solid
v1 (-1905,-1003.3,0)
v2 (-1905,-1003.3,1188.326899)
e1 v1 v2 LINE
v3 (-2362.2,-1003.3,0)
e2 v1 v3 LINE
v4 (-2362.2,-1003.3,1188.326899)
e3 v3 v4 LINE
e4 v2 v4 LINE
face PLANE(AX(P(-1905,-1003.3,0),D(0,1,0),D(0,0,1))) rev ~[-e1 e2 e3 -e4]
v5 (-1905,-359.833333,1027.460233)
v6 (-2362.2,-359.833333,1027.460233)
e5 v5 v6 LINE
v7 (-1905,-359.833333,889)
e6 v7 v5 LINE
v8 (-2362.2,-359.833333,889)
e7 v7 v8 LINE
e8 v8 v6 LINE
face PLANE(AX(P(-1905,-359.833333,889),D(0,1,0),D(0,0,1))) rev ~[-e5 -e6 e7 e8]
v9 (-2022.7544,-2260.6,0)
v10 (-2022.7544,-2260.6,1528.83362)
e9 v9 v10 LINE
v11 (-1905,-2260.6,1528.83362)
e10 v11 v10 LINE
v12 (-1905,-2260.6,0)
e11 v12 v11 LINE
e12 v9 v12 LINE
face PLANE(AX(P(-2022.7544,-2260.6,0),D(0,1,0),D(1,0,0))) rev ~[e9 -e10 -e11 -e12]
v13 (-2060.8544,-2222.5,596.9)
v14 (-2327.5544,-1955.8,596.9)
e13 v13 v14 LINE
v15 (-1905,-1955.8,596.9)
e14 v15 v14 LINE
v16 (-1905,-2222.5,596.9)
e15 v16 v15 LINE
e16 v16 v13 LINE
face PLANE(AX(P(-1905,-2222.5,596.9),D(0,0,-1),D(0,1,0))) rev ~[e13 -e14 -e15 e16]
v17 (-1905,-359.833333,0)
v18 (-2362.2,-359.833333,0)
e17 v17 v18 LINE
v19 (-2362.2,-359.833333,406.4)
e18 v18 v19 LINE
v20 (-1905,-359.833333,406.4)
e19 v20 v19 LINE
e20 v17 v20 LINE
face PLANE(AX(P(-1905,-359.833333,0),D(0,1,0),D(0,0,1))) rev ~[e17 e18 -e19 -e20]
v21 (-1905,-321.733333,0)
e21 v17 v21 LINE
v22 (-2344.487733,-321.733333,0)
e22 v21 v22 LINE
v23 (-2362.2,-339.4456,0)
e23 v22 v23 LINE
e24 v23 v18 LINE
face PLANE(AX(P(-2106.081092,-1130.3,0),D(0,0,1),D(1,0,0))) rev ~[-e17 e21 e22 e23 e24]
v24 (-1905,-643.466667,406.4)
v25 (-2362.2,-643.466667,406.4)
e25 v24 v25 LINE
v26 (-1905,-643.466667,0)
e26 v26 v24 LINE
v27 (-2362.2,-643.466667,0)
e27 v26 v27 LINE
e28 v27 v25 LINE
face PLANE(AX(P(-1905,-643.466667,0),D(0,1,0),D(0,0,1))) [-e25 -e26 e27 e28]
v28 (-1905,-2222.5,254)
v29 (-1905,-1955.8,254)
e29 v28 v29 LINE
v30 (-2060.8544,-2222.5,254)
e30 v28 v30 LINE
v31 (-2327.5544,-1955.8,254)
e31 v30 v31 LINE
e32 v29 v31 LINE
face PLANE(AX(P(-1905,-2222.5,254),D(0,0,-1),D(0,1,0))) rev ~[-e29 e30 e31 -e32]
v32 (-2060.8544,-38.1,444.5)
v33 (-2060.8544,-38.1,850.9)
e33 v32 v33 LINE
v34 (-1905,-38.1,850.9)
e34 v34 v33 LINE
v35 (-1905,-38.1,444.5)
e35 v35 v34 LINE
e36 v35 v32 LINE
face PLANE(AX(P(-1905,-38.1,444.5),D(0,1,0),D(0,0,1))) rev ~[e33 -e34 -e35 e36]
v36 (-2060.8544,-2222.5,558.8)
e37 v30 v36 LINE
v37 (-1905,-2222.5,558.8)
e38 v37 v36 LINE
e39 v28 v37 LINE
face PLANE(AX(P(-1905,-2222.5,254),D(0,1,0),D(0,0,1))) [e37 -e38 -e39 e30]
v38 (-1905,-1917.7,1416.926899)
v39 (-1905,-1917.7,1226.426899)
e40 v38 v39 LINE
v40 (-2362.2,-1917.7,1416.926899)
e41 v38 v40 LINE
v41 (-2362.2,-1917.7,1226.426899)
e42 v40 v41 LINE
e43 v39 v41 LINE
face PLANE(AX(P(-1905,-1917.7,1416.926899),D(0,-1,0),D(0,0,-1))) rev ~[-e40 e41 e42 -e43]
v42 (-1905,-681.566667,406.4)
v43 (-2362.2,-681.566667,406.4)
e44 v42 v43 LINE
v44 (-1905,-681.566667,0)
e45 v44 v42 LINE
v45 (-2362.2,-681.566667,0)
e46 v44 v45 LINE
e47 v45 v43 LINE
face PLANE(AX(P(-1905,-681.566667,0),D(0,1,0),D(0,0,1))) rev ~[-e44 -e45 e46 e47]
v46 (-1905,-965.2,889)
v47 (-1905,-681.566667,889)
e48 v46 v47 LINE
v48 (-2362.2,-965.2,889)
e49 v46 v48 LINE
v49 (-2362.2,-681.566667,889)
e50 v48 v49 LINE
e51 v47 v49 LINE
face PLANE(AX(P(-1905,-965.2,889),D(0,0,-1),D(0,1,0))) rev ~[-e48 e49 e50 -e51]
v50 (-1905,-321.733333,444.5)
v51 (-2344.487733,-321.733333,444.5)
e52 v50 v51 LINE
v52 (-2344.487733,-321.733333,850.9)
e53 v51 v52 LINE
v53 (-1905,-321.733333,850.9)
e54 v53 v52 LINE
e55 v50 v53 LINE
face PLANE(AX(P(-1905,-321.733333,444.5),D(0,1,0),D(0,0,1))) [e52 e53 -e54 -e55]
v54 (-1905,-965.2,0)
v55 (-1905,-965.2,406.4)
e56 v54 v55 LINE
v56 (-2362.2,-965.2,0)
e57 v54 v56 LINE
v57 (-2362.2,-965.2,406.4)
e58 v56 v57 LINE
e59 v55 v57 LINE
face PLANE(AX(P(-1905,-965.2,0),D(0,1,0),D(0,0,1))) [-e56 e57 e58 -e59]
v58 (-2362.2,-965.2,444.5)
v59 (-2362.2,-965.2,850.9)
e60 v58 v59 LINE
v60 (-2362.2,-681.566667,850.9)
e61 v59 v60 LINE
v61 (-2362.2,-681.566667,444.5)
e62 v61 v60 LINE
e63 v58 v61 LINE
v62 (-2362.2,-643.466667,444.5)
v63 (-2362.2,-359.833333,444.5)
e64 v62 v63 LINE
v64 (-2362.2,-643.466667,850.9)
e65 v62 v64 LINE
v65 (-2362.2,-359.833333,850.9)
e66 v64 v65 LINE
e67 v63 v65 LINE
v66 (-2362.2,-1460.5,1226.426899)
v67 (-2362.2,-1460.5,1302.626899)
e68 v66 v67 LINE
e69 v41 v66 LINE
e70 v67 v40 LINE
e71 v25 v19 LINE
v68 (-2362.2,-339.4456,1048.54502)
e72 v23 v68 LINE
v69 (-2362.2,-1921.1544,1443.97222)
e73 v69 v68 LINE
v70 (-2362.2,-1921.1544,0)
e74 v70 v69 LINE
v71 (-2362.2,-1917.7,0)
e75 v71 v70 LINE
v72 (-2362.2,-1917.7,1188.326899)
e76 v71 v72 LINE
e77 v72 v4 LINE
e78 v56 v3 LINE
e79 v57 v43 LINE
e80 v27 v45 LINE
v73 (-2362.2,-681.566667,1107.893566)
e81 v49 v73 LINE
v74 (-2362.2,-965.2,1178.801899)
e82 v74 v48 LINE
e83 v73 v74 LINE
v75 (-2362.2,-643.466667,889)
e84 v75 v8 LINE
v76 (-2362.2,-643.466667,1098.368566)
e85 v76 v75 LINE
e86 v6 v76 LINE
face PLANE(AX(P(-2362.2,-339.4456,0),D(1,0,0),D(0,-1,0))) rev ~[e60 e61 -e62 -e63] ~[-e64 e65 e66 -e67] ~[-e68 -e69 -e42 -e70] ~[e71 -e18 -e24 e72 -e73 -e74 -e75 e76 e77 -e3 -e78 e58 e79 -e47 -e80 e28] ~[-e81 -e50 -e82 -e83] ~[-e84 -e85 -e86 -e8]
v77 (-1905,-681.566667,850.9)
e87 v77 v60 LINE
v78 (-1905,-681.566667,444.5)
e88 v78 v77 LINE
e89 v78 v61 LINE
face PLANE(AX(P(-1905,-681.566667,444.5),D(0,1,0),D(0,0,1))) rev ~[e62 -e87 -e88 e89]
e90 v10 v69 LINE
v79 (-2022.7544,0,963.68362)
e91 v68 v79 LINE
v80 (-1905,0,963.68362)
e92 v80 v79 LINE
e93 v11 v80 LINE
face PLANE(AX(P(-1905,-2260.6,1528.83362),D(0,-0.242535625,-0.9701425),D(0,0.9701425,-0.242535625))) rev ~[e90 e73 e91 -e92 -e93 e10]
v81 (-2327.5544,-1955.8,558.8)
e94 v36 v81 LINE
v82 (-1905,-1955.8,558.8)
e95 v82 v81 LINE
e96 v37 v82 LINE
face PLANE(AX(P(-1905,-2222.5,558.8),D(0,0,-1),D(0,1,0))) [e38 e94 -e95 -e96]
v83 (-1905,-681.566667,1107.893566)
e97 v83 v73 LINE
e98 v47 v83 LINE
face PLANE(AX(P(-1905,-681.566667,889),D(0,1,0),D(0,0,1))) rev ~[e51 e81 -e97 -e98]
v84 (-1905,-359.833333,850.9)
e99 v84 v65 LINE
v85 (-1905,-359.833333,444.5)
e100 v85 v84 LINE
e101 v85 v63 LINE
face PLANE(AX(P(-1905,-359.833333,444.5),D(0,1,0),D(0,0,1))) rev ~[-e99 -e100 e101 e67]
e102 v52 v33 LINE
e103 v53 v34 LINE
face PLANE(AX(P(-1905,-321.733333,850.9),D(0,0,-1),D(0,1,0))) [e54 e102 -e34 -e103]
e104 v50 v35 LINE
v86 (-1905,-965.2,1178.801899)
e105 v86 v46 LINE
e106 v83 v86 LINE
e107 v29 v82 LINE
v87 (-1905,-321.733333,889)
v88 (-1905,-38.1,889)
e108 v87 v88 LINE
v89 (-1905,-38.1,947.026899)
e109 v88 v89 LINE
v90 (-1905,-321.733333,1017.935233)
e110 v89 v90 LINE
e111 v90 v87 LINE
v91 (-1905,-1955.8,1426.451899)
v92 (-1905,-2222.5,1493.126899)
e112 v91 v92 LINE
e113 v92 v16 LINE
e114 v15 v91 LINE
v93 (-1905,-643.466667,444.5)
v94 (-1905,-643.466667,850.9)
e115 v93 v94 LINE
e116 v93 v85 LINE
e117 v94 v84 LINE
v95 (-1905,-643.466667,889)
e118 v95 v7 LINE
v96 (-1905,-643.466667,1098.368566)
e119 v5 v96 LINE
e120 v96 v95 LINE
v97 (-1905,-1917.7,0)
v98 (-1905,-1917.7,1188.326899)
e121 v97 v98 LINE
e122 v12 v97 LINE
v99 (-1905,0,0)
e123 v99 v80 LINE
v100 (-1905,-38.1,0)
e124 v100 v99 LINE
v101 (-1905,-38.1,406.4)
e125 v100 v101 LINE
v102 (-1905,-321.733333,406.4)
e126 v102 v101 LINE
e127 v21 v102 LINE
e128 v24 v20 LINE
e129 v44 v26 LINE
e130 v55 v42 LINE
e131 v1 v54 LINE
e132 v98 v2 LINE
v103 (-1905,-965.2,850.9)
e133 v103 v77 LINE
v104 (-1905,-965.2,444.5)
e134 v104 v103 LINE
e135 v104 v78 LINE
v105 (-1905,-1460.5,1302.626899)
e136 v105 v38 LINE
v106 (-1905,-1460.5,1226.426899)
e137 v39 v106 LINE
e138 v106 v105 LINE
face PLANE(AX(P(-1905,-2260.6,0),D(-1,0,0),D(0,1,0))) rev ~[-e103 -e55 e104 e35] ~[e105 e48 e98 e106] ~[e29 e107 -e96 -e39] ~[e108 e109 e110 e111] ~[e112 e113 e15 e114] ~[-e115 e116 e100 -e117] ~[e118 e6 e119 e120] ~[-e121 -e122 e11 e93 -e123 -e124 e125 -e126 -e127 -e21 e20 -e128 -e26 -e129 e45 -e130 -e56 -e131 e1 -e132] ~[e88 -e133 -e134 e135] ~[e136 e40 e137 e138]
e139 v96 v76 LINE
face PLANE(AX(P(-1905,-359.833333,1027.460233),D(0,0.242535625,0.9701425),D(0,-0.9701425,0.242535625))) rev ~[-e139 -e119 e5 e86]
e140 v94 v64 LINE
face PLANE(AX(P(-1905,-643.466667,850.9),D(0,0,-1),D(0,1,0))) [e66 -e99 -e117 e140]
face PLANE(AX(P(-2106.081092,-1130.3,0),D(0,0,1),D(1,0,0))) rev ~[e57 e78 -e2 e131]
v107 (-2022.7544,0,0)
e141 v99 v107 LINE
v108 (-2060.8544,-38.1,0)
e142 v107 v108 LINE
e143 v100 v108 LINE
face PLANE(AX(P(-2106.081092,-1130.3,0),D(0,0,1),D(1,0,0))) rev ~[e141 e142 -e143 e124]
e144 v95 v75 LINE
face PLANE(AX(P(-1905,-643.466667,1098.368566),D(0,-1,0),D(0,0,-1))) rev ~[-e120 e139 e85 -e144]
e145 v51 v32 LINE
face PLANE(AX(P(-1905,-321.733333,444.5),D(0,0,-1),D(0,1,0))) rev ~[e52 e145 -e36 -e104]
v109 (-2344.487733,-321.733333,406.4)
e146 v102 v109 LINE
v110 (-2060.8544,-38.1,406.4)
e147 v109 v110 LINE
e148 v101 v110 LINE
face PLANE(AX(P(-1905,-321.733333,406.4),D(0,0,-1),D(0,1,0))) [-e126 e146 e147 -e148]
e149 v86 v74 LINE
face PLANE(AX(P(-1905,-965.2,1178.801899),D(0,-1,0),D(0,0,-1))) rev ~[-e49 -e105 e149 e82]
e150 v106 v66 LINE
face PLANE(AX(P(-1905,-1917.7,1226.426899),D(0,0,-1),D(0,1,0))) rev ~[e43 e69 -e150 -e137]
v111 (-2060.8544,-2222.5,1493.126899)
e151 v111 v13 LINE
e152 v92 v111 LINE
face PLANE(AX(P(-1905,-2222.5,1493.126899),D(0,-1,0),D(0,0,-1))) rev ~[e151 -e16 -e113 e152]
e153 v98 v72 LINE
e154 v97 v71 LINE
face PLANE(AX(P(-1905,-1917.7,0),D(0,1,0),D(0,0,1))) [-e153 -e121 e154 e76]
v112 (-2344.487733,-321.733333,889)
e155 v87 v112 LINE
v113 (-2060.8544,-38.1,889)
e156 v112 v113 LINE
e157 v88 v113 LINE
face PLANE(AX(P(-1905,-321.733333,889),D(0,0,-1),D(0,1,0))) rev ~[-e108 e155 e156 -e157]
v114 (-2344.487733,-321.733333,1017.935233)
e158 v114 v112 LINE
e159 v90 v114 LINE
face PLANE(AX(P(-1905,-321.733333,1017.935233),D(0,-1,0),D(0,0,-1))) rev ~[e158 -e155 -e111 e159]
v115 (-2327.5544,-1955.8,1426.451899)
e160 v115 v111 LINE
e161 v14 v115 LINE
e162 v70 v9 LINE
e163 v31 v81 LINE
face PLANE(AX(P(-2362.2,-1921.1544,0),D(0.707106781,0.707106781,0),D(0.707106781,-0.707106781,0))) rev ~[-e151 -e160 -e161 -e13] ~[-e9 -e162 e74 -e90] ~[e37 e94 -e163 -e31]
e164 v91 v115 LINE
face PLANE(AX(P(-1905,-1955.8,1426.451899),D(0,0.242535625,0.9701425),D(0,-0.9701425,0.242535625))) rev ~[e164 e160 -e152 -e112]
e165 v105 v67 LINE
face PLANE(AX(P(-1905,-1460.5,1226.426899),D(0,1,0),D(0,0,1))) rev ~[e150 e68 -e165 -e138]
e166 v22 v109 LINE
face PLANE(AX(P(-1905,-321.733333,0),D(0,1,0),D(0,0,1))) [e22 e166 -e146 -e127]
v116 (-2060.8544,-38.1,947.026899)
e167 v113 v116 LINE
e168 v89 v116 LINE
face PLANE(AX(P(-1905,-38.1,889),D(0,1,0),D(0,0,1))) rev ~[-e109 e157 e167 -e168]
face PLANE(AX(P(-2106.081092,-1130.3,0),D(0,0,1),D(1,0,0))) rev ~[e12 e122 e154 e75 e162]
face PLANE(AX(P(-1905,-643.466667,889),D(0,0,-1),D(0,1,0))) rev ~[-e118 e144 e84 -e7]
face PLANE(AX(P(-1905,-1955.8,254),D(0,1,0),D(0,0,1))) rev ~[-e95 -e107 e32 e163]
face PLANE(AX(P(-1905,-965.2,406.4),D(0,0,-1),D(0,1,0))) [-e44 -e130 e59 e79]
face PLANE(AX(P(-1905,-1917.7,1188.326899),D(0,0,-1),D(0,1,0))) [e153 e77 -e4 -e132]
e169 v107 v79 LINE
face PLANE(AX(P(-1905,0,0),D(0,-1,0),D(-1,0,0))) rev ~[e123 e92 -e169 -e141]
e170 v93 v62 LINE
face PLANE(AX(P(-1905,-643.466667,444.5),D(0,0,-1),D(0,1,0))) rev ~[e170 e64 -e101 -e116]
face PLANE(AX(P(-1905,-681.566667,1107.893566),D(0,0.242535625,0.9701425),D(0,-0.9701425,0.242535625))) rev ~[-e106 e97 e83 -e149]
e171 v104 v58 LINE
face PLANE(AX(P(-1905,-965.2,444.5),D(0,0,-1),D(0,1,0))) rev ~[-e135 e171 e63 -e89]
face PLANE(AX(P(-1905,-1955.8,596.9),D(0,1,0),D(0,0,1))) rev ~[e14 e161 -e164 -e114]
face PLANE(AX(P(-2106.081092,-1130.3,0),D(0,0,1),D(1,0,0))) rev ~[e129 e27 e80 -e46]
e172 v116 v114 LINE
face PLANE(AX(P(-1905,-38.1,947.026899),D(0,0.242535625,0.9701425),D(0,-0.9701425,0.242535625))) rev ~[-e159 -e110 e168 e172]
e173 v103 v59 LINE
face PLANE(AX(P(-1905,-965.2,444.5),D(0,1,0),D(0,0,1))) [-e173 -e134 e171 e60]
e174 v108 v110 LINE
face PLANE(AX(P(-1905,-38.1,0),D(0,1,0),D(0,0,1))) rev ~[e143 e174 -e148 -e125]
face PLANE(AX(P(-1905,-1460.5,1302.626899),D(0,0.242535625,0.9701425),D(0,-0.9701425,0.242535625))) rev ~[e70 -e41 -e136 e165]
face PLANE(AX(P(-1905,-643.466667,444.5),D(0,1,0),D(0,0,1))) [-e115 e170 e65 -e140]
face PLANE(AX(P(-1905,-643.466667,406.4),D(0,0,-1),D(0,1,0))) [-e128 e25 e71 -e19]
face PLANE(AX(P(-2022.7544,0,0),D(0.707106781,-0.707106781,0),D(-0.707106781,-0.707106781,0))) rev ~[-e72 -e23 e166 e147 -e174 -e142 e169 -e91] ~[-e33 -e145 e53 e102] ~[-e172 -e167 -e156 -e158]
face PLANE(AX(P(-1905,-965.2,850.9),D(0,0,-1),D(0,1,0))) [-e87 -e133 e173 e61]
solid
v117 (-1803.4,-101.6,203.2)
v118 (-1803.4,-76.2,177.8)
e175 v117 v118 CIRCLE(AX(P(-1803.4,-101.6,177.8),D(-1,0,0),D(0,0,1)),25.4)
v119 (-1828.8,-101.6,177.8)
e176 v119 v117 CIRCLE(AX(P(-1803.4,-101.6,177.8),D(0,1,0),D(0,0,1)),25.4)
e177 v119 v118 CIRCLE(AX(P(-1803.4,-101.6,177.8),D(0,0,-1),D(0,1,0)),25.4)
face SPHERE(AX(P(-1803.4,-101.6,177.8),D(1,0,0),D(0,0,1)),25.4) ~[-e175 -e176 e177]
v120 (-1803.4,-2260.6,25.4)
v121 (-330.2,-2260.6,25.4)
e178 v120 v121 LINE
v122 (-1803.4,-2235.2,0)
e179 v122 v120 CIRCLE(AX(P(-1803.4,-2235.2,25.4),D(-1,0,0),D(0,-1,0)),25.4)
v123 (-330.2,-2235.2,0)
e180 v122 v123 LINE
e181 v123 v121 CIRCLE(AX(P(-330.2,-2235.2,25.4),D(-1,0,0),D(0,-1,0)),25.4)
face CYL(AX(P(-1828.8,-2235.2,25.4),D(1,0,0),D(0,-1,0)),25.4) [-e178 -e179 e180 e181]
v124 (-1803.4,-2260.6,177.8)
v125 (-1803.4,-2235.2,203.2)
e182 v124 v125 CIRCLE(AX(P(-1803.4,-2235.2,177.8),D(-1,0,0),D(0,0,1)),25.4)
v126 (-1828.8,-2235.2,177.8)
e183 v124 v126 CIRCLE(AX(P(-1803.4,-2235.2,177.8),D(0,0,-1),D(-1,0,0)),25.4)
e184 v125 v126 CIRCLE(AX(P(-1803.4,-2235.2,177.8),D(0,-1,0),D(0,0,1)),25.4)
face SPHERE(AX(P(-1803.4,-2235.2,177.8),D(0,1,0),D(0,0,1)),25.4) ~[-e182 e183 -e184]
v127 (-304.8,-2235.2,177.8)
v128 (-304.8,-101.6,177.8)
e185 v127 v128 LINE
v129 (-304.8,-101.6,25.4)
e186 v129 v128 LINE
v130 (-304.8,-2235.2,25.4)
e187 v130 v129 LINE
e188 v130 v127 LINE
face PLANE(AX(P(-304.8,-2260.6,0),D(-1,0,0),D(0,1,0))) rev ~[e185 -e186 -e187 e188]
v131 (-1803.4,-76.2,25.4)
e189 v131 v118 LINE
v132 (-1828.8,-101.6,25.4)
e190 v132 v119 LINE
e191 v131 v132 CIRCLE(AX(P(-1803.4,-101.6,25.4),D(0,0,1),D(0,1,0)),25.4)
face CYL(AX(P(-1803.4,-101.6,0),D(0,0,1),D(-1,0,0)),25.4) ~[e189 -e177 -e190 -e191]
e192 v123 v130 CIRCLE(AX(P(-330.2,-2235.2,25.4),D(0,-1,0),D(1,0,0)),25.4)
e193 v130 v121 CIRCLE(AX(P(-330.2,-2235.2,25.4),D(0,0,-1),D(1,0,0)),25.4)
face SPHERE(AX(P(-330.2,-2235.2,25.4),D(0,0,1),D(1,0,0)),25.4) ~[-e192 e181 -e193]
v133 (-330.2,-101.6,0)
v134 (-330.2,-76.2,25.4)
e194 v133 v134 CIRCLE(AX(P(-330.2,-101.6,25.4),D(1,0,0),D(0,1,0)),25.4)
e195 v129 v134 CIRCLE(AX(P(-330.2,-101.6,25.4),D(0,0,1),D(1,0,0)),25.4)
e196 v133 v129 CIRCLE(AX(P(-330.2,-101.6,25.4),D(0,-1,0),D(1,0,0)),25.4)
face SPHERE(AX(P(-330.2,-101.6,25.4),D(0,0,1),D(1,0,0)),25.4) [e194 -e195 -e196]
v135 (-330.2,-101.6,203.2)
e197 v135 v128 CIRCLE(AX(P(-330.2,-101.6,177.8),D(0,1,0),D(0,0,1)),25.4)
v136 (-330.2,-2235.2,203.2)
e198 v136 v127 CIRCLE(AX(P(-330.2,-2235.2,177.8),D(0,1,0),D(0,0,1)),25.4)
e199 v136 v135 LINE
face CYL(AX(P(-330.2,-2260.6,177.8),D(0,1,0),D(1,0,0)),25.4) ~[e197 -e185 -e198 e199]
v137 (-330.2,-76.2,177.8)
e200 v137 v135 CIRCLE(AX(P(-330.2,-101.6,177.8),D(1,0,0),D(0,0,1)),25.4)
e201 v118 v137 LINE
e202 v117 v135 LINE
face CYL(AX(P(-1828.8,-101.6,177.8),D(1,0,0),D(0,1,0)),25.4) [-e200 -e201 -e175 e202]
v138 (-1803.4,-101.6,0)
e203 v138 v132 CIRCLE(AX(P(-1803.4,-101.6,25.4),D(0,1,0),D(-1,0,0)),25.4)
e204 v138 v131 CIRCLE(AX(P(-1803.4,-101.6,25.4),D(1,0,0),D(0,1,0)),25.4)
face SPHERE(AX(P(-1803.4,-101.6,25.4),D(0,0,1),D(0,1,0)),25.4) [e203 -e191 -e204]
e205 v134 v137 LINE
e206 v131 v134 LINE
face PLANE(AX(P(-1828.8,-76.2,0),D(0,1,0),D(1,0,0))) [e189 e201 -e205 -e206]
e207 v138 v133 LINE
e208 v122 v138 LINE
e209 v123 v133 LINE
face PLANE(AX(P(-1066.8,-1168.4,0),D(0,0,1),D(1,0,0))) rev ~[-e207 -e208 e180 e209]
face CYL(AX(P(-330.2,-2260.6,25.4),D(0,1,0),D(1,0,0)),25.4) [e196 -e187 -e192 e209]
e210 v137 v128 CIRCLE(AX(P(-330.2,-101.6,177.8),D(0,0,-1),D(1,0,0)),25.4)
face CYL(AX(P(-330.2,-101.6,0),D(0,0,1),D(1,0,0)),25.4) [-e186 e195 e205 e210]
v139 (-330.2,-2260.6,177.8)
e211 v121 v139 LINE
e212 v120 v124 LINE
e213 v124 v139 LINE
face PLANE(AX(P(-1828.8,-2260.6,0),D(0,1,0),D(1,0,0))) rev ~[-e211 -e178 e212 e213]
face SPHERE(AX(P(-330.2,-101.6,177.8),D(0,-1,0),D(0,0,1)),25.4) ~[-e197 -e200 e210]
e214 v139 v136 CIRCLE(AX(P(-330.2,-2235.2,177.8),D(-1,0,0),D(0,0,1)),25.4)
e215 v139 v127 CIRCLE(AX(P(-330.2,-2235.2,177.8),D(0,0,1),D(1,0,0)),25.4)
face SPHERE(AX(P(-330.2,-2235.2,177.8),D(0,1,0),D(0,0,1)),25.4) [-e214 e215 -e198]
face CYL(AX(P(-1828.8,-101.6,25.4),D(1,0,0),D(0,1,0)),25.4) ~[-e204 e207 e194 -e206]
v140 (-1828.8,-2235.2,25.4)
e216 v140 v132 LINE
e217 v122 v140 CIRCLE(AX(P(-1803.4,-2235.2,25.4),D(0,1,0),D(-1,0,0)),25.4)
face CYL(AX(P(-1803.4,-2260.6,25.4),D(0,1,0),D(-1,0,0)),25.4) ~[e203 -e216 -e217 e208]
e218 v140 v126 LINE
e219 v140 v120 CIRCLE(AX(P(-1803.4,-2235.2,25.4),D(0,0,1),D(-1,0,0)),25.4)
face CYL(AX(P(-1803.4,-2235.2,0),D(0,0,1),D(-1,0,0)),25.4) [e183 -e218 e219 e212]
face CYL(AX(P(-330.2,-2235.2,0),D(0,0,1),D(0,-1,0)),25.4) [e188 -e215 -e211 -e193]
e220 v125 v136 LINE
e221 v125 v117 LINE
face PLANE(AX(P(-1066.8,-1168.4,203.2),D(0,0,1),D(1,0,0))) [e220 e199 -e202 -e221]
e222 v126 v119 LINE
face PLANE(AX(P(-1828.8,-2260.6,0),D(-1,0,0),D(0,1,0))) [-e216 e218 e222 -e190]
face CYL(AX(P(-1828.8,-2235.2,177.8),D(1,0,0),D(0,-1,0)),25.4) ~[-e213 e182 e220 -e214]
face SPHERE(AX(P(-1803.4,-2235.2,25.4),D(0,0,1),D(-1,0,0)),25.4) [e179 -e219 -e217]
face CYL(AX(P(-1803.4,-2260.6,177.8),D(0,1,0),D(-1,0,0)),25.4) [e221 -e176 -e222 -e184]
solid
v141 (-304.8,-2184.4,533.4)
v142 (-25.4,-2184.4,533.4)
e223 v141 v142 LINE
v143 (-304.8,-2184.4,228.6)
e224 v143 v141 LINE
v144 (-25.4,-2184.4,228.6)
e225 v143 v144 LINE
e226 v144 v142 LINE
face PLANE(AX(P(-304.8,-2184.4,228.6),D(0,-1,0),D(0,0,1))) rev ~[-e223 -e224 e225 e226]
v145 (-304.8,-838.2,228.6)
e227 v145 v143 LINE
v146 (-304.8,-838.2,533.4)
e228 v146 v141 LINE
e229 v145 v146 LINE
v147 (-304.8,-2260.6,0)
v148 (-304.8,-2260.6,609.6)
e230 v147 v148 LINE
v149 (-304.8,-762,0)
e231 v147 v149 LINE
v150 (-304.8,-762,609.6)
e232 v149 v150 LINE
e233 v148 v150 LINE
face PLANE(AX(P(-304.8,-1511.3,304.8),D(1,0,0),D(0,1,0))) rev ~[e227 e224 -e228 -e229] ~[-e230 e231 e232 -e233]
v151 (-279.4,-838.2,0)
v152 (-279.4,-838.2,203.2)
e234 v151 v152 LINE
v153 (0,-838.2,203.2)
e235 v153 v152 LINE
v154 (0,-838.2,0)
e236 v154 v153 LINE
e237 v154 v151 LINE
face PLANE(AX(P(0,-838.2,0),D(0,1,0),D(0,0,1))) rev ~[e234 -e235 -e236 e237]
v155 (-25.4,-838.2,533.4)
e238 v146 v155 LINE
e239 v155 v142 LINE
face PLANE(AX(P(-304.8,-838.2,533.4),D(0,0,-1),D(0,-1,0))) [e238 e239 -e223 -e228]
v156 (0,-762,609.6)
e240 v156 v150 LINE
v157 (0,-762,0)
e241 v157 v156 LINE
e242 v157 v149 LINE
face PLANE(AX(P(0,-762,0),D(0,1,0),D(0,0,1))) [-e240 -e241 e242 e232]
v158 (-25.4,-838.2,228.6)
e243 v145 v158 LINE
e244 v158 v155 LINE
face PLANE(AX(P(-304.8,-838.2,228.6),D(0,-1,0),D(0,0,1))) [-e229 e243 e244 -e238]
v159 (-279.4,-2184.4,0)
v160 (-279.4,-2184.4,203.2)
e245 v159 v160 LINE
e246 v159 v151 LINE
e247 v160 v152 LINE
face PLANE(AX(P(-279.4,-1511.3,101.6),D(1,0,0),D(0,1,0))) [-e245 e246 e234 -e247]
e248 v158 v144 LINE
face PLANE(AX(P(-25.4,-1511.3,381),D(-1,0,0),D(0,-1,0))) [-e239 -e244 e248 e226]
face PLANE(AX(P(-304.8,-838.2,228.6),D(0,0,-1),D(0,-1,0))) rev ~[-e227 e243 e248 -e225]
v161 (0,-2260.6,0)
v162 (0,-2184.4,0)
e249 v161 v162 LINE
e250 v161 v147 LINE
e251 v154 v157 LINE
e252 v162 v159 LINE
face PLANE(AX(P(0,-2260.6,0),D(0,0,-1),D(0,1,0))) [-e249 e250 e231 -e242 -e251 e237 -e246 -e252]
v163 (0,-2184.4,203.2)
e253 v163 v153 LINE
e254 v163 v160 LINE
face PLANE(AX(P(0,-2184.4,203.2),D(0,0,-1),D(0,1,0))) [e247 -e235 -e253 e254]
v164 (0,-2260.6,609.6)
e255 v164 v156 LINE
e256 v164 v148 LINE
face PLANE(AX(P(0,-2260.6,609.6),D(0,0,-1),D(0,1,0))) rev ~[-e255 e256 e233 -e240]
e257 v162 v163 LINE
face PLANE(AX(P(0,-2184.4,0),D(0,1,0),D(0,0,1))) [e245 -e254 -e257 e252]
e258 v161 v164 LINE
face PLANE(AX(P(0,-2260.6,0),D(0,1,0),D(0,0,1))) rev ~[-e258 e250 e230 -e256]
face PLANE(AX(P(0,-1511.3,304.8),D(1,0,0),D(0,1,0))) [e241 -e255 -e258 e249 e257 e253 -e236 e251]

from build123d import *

# Parameters (mm, degrees)
F0_W      = 1498.6
F0_H      = 609.6
F1_DEPTH  = 304.8
F2_W      = 1346.2
F2_H      = 304.8
F3_DEPTH  = 279.4
F4_W      = 1346.2
F4_H      = 203.2
F5_DEPTH  = 279.4
F6_W      = 1524
F6_H      = 2184.4
F7_DEPTH  = 203.2
F9_DEPTH  = 1574.8
F10_R     = 25.4
F12_DEPTH = 457.201
F13_W     = 266.7
F13_H     = 304.8
F13_W_2   = 283.6333333333
F13_H_2   = 406.4
F13_W_3   = 914.4
F13_H_3   = 1188.3268992773
F14_DEPTH = 457.201


with BuildPart() as f1:
    # F0 (on Right) → F1 (new body)
    with BuildSketch(Plane.YZ):
        with Locations((-1511.3, 304.8)):
            Rectangle(F0_W, F0_H)
    extrude(amount=-F1_DEPTH)

    # F2 (on face) → F3 (cut)
    with BuildSketch(Plane(origin=(-304.8, 0, 0), x_dir=(0, -1, 0), z_dir=(-1, 0, 0))):
        with Locations((1511.3, 381)):
            Rectangle(F2_W, F2_H)
    extrude(amount=-F3_DEPTH, mode=Mode.SUBTRACT)

    # F4 (on face) → F5 (cut)
    with BuildSketch(Plane.YZ):
        with Locations((-1511.3, 101.6)):
            Rectangle(F4_W, F4_H)
    extrude(amount=-F5_DEPTH, mode=Mode.SUBTRACT)


with BuildPart() as f7:
    # F6 (on Top) → F7 (new body)
    with BuildSketch(Plane.XY):
        with Locations((-1066.8, -1168.4)):
            Rectangle(F6_W, F6_H)
    extrude(amount=F7_DEPTH)

    # F10
    f10_edges = [f7.edges().sort_by_distance(p)[0] for p in [
        (-304.8, -1168.4, 203.2),
        (-1066.8, -76.2, 203.2),
        (-1828.8, -1168.4, 203.2),
        (-1066.8, -2260.6, 203.2),
        (-1828.8, -2260.6, 101.6),
        (-304.8, -2260.6, 101.6),
        (-304.8, -76.2, 101.6),
        (-1828.8, -76.2, 101.6),
        (-304.8, -1168.4, 0),
        (-1066.8, -76.2, 0),
        (-1828.8, -1168.4, 0),
        (-1066.8, -2260.6, 0),
    ]]
    fillet(f10_edges, radius=F10_R)


with BuildPart() as f9:
    # F8 (on Top) → F9 (new body)
    with BuildSketch(Plane.XY):
        Polygon((-1905, -2260.6), (-1905, 0), (-2022.7544, 0), (-2362.2, -339.4456), (-2362.2, -1921.1544), (-2022.7544, -2260.6), align=None)
    extrude(amount=F9_DEPTH)

    # F11 (on face) → F12 (cut, through all)
    with BuildSketch(Plane.YZ.offset(-1905)):
        Polygon((-2260.6, 1574.8), (-2260.6, 1528.83362), (0, 963.68362), (0, 1574.8), align=None)
    extrude(amount=-F12_DEPTH, mode=Mode.SUBTRACT)

    # F13 (on face) → F14 (cut, through all)
    with BuildSketch(Plane.YZ.offset(-1905)):
        with Locations((-2089.15, 406.4)):
            Rectangle(F13_W, F13_H)
        Polygon((-2222.5, 1493.1268992773), (-2222.5, 596.9), (-1955.8, 596.9), (-1955.8, 1426.4518992773), align=None)
        Polygon((-38.1, 947.0268992773), (-321.7333333333, 1017.9352326107), (-321.7333333333, 889), (-38.1, 889), align=None)
        with Locations((-179.9166666667, 647.7)):
            Rectangle(F13_W_2, F13_H_2)
        with Locations((-179.9166666667, 203.2)):
            Rectangle(F13_W_2, F13_H_2)
        with Locations((-1460.5, 594.1634496387)):
            Rectangle(F13_W_3, F13_H_3)
        with Locations((-501.65, 203.2)):
            Rectangle(F13_W_2, F13_H_2)
        with Locations((-823.3833333333, 203.2)):
            Rectangle(F13_W_2, F13_H_2)
        with Locations((-501.65, 647.7)):
            Rectangle(F13_W_2, F13_H_2)
        with Locations((-823.3833333333, 647.7)):
            Rectangle(F13_W_2, F13_H_2)
        Polygon((-643.4666666667, 889), (-359.8333333333, 889), (-359.8333333333, 1027.4602326107), (-643.4666666667, 1098.368565944), align=None)
        Polygon((-965.2, 889), (-681.5666666667, 889), (-681.5666666667, 1107.893565944), (-965.2, 1178.8018992773), align=None)
        Polygon((-1917.7, 1416.9268992773), (-1917.7, 1226.4268992773), (-1460.5, 1226.4268992773), (-1460.5, 1302.6268992773), align=None)
    extrude(amount=-F14_DEPTH, mode=Mode.SUBTRACT)


solid = Compound([f1.part, f7.part, f9.part])
